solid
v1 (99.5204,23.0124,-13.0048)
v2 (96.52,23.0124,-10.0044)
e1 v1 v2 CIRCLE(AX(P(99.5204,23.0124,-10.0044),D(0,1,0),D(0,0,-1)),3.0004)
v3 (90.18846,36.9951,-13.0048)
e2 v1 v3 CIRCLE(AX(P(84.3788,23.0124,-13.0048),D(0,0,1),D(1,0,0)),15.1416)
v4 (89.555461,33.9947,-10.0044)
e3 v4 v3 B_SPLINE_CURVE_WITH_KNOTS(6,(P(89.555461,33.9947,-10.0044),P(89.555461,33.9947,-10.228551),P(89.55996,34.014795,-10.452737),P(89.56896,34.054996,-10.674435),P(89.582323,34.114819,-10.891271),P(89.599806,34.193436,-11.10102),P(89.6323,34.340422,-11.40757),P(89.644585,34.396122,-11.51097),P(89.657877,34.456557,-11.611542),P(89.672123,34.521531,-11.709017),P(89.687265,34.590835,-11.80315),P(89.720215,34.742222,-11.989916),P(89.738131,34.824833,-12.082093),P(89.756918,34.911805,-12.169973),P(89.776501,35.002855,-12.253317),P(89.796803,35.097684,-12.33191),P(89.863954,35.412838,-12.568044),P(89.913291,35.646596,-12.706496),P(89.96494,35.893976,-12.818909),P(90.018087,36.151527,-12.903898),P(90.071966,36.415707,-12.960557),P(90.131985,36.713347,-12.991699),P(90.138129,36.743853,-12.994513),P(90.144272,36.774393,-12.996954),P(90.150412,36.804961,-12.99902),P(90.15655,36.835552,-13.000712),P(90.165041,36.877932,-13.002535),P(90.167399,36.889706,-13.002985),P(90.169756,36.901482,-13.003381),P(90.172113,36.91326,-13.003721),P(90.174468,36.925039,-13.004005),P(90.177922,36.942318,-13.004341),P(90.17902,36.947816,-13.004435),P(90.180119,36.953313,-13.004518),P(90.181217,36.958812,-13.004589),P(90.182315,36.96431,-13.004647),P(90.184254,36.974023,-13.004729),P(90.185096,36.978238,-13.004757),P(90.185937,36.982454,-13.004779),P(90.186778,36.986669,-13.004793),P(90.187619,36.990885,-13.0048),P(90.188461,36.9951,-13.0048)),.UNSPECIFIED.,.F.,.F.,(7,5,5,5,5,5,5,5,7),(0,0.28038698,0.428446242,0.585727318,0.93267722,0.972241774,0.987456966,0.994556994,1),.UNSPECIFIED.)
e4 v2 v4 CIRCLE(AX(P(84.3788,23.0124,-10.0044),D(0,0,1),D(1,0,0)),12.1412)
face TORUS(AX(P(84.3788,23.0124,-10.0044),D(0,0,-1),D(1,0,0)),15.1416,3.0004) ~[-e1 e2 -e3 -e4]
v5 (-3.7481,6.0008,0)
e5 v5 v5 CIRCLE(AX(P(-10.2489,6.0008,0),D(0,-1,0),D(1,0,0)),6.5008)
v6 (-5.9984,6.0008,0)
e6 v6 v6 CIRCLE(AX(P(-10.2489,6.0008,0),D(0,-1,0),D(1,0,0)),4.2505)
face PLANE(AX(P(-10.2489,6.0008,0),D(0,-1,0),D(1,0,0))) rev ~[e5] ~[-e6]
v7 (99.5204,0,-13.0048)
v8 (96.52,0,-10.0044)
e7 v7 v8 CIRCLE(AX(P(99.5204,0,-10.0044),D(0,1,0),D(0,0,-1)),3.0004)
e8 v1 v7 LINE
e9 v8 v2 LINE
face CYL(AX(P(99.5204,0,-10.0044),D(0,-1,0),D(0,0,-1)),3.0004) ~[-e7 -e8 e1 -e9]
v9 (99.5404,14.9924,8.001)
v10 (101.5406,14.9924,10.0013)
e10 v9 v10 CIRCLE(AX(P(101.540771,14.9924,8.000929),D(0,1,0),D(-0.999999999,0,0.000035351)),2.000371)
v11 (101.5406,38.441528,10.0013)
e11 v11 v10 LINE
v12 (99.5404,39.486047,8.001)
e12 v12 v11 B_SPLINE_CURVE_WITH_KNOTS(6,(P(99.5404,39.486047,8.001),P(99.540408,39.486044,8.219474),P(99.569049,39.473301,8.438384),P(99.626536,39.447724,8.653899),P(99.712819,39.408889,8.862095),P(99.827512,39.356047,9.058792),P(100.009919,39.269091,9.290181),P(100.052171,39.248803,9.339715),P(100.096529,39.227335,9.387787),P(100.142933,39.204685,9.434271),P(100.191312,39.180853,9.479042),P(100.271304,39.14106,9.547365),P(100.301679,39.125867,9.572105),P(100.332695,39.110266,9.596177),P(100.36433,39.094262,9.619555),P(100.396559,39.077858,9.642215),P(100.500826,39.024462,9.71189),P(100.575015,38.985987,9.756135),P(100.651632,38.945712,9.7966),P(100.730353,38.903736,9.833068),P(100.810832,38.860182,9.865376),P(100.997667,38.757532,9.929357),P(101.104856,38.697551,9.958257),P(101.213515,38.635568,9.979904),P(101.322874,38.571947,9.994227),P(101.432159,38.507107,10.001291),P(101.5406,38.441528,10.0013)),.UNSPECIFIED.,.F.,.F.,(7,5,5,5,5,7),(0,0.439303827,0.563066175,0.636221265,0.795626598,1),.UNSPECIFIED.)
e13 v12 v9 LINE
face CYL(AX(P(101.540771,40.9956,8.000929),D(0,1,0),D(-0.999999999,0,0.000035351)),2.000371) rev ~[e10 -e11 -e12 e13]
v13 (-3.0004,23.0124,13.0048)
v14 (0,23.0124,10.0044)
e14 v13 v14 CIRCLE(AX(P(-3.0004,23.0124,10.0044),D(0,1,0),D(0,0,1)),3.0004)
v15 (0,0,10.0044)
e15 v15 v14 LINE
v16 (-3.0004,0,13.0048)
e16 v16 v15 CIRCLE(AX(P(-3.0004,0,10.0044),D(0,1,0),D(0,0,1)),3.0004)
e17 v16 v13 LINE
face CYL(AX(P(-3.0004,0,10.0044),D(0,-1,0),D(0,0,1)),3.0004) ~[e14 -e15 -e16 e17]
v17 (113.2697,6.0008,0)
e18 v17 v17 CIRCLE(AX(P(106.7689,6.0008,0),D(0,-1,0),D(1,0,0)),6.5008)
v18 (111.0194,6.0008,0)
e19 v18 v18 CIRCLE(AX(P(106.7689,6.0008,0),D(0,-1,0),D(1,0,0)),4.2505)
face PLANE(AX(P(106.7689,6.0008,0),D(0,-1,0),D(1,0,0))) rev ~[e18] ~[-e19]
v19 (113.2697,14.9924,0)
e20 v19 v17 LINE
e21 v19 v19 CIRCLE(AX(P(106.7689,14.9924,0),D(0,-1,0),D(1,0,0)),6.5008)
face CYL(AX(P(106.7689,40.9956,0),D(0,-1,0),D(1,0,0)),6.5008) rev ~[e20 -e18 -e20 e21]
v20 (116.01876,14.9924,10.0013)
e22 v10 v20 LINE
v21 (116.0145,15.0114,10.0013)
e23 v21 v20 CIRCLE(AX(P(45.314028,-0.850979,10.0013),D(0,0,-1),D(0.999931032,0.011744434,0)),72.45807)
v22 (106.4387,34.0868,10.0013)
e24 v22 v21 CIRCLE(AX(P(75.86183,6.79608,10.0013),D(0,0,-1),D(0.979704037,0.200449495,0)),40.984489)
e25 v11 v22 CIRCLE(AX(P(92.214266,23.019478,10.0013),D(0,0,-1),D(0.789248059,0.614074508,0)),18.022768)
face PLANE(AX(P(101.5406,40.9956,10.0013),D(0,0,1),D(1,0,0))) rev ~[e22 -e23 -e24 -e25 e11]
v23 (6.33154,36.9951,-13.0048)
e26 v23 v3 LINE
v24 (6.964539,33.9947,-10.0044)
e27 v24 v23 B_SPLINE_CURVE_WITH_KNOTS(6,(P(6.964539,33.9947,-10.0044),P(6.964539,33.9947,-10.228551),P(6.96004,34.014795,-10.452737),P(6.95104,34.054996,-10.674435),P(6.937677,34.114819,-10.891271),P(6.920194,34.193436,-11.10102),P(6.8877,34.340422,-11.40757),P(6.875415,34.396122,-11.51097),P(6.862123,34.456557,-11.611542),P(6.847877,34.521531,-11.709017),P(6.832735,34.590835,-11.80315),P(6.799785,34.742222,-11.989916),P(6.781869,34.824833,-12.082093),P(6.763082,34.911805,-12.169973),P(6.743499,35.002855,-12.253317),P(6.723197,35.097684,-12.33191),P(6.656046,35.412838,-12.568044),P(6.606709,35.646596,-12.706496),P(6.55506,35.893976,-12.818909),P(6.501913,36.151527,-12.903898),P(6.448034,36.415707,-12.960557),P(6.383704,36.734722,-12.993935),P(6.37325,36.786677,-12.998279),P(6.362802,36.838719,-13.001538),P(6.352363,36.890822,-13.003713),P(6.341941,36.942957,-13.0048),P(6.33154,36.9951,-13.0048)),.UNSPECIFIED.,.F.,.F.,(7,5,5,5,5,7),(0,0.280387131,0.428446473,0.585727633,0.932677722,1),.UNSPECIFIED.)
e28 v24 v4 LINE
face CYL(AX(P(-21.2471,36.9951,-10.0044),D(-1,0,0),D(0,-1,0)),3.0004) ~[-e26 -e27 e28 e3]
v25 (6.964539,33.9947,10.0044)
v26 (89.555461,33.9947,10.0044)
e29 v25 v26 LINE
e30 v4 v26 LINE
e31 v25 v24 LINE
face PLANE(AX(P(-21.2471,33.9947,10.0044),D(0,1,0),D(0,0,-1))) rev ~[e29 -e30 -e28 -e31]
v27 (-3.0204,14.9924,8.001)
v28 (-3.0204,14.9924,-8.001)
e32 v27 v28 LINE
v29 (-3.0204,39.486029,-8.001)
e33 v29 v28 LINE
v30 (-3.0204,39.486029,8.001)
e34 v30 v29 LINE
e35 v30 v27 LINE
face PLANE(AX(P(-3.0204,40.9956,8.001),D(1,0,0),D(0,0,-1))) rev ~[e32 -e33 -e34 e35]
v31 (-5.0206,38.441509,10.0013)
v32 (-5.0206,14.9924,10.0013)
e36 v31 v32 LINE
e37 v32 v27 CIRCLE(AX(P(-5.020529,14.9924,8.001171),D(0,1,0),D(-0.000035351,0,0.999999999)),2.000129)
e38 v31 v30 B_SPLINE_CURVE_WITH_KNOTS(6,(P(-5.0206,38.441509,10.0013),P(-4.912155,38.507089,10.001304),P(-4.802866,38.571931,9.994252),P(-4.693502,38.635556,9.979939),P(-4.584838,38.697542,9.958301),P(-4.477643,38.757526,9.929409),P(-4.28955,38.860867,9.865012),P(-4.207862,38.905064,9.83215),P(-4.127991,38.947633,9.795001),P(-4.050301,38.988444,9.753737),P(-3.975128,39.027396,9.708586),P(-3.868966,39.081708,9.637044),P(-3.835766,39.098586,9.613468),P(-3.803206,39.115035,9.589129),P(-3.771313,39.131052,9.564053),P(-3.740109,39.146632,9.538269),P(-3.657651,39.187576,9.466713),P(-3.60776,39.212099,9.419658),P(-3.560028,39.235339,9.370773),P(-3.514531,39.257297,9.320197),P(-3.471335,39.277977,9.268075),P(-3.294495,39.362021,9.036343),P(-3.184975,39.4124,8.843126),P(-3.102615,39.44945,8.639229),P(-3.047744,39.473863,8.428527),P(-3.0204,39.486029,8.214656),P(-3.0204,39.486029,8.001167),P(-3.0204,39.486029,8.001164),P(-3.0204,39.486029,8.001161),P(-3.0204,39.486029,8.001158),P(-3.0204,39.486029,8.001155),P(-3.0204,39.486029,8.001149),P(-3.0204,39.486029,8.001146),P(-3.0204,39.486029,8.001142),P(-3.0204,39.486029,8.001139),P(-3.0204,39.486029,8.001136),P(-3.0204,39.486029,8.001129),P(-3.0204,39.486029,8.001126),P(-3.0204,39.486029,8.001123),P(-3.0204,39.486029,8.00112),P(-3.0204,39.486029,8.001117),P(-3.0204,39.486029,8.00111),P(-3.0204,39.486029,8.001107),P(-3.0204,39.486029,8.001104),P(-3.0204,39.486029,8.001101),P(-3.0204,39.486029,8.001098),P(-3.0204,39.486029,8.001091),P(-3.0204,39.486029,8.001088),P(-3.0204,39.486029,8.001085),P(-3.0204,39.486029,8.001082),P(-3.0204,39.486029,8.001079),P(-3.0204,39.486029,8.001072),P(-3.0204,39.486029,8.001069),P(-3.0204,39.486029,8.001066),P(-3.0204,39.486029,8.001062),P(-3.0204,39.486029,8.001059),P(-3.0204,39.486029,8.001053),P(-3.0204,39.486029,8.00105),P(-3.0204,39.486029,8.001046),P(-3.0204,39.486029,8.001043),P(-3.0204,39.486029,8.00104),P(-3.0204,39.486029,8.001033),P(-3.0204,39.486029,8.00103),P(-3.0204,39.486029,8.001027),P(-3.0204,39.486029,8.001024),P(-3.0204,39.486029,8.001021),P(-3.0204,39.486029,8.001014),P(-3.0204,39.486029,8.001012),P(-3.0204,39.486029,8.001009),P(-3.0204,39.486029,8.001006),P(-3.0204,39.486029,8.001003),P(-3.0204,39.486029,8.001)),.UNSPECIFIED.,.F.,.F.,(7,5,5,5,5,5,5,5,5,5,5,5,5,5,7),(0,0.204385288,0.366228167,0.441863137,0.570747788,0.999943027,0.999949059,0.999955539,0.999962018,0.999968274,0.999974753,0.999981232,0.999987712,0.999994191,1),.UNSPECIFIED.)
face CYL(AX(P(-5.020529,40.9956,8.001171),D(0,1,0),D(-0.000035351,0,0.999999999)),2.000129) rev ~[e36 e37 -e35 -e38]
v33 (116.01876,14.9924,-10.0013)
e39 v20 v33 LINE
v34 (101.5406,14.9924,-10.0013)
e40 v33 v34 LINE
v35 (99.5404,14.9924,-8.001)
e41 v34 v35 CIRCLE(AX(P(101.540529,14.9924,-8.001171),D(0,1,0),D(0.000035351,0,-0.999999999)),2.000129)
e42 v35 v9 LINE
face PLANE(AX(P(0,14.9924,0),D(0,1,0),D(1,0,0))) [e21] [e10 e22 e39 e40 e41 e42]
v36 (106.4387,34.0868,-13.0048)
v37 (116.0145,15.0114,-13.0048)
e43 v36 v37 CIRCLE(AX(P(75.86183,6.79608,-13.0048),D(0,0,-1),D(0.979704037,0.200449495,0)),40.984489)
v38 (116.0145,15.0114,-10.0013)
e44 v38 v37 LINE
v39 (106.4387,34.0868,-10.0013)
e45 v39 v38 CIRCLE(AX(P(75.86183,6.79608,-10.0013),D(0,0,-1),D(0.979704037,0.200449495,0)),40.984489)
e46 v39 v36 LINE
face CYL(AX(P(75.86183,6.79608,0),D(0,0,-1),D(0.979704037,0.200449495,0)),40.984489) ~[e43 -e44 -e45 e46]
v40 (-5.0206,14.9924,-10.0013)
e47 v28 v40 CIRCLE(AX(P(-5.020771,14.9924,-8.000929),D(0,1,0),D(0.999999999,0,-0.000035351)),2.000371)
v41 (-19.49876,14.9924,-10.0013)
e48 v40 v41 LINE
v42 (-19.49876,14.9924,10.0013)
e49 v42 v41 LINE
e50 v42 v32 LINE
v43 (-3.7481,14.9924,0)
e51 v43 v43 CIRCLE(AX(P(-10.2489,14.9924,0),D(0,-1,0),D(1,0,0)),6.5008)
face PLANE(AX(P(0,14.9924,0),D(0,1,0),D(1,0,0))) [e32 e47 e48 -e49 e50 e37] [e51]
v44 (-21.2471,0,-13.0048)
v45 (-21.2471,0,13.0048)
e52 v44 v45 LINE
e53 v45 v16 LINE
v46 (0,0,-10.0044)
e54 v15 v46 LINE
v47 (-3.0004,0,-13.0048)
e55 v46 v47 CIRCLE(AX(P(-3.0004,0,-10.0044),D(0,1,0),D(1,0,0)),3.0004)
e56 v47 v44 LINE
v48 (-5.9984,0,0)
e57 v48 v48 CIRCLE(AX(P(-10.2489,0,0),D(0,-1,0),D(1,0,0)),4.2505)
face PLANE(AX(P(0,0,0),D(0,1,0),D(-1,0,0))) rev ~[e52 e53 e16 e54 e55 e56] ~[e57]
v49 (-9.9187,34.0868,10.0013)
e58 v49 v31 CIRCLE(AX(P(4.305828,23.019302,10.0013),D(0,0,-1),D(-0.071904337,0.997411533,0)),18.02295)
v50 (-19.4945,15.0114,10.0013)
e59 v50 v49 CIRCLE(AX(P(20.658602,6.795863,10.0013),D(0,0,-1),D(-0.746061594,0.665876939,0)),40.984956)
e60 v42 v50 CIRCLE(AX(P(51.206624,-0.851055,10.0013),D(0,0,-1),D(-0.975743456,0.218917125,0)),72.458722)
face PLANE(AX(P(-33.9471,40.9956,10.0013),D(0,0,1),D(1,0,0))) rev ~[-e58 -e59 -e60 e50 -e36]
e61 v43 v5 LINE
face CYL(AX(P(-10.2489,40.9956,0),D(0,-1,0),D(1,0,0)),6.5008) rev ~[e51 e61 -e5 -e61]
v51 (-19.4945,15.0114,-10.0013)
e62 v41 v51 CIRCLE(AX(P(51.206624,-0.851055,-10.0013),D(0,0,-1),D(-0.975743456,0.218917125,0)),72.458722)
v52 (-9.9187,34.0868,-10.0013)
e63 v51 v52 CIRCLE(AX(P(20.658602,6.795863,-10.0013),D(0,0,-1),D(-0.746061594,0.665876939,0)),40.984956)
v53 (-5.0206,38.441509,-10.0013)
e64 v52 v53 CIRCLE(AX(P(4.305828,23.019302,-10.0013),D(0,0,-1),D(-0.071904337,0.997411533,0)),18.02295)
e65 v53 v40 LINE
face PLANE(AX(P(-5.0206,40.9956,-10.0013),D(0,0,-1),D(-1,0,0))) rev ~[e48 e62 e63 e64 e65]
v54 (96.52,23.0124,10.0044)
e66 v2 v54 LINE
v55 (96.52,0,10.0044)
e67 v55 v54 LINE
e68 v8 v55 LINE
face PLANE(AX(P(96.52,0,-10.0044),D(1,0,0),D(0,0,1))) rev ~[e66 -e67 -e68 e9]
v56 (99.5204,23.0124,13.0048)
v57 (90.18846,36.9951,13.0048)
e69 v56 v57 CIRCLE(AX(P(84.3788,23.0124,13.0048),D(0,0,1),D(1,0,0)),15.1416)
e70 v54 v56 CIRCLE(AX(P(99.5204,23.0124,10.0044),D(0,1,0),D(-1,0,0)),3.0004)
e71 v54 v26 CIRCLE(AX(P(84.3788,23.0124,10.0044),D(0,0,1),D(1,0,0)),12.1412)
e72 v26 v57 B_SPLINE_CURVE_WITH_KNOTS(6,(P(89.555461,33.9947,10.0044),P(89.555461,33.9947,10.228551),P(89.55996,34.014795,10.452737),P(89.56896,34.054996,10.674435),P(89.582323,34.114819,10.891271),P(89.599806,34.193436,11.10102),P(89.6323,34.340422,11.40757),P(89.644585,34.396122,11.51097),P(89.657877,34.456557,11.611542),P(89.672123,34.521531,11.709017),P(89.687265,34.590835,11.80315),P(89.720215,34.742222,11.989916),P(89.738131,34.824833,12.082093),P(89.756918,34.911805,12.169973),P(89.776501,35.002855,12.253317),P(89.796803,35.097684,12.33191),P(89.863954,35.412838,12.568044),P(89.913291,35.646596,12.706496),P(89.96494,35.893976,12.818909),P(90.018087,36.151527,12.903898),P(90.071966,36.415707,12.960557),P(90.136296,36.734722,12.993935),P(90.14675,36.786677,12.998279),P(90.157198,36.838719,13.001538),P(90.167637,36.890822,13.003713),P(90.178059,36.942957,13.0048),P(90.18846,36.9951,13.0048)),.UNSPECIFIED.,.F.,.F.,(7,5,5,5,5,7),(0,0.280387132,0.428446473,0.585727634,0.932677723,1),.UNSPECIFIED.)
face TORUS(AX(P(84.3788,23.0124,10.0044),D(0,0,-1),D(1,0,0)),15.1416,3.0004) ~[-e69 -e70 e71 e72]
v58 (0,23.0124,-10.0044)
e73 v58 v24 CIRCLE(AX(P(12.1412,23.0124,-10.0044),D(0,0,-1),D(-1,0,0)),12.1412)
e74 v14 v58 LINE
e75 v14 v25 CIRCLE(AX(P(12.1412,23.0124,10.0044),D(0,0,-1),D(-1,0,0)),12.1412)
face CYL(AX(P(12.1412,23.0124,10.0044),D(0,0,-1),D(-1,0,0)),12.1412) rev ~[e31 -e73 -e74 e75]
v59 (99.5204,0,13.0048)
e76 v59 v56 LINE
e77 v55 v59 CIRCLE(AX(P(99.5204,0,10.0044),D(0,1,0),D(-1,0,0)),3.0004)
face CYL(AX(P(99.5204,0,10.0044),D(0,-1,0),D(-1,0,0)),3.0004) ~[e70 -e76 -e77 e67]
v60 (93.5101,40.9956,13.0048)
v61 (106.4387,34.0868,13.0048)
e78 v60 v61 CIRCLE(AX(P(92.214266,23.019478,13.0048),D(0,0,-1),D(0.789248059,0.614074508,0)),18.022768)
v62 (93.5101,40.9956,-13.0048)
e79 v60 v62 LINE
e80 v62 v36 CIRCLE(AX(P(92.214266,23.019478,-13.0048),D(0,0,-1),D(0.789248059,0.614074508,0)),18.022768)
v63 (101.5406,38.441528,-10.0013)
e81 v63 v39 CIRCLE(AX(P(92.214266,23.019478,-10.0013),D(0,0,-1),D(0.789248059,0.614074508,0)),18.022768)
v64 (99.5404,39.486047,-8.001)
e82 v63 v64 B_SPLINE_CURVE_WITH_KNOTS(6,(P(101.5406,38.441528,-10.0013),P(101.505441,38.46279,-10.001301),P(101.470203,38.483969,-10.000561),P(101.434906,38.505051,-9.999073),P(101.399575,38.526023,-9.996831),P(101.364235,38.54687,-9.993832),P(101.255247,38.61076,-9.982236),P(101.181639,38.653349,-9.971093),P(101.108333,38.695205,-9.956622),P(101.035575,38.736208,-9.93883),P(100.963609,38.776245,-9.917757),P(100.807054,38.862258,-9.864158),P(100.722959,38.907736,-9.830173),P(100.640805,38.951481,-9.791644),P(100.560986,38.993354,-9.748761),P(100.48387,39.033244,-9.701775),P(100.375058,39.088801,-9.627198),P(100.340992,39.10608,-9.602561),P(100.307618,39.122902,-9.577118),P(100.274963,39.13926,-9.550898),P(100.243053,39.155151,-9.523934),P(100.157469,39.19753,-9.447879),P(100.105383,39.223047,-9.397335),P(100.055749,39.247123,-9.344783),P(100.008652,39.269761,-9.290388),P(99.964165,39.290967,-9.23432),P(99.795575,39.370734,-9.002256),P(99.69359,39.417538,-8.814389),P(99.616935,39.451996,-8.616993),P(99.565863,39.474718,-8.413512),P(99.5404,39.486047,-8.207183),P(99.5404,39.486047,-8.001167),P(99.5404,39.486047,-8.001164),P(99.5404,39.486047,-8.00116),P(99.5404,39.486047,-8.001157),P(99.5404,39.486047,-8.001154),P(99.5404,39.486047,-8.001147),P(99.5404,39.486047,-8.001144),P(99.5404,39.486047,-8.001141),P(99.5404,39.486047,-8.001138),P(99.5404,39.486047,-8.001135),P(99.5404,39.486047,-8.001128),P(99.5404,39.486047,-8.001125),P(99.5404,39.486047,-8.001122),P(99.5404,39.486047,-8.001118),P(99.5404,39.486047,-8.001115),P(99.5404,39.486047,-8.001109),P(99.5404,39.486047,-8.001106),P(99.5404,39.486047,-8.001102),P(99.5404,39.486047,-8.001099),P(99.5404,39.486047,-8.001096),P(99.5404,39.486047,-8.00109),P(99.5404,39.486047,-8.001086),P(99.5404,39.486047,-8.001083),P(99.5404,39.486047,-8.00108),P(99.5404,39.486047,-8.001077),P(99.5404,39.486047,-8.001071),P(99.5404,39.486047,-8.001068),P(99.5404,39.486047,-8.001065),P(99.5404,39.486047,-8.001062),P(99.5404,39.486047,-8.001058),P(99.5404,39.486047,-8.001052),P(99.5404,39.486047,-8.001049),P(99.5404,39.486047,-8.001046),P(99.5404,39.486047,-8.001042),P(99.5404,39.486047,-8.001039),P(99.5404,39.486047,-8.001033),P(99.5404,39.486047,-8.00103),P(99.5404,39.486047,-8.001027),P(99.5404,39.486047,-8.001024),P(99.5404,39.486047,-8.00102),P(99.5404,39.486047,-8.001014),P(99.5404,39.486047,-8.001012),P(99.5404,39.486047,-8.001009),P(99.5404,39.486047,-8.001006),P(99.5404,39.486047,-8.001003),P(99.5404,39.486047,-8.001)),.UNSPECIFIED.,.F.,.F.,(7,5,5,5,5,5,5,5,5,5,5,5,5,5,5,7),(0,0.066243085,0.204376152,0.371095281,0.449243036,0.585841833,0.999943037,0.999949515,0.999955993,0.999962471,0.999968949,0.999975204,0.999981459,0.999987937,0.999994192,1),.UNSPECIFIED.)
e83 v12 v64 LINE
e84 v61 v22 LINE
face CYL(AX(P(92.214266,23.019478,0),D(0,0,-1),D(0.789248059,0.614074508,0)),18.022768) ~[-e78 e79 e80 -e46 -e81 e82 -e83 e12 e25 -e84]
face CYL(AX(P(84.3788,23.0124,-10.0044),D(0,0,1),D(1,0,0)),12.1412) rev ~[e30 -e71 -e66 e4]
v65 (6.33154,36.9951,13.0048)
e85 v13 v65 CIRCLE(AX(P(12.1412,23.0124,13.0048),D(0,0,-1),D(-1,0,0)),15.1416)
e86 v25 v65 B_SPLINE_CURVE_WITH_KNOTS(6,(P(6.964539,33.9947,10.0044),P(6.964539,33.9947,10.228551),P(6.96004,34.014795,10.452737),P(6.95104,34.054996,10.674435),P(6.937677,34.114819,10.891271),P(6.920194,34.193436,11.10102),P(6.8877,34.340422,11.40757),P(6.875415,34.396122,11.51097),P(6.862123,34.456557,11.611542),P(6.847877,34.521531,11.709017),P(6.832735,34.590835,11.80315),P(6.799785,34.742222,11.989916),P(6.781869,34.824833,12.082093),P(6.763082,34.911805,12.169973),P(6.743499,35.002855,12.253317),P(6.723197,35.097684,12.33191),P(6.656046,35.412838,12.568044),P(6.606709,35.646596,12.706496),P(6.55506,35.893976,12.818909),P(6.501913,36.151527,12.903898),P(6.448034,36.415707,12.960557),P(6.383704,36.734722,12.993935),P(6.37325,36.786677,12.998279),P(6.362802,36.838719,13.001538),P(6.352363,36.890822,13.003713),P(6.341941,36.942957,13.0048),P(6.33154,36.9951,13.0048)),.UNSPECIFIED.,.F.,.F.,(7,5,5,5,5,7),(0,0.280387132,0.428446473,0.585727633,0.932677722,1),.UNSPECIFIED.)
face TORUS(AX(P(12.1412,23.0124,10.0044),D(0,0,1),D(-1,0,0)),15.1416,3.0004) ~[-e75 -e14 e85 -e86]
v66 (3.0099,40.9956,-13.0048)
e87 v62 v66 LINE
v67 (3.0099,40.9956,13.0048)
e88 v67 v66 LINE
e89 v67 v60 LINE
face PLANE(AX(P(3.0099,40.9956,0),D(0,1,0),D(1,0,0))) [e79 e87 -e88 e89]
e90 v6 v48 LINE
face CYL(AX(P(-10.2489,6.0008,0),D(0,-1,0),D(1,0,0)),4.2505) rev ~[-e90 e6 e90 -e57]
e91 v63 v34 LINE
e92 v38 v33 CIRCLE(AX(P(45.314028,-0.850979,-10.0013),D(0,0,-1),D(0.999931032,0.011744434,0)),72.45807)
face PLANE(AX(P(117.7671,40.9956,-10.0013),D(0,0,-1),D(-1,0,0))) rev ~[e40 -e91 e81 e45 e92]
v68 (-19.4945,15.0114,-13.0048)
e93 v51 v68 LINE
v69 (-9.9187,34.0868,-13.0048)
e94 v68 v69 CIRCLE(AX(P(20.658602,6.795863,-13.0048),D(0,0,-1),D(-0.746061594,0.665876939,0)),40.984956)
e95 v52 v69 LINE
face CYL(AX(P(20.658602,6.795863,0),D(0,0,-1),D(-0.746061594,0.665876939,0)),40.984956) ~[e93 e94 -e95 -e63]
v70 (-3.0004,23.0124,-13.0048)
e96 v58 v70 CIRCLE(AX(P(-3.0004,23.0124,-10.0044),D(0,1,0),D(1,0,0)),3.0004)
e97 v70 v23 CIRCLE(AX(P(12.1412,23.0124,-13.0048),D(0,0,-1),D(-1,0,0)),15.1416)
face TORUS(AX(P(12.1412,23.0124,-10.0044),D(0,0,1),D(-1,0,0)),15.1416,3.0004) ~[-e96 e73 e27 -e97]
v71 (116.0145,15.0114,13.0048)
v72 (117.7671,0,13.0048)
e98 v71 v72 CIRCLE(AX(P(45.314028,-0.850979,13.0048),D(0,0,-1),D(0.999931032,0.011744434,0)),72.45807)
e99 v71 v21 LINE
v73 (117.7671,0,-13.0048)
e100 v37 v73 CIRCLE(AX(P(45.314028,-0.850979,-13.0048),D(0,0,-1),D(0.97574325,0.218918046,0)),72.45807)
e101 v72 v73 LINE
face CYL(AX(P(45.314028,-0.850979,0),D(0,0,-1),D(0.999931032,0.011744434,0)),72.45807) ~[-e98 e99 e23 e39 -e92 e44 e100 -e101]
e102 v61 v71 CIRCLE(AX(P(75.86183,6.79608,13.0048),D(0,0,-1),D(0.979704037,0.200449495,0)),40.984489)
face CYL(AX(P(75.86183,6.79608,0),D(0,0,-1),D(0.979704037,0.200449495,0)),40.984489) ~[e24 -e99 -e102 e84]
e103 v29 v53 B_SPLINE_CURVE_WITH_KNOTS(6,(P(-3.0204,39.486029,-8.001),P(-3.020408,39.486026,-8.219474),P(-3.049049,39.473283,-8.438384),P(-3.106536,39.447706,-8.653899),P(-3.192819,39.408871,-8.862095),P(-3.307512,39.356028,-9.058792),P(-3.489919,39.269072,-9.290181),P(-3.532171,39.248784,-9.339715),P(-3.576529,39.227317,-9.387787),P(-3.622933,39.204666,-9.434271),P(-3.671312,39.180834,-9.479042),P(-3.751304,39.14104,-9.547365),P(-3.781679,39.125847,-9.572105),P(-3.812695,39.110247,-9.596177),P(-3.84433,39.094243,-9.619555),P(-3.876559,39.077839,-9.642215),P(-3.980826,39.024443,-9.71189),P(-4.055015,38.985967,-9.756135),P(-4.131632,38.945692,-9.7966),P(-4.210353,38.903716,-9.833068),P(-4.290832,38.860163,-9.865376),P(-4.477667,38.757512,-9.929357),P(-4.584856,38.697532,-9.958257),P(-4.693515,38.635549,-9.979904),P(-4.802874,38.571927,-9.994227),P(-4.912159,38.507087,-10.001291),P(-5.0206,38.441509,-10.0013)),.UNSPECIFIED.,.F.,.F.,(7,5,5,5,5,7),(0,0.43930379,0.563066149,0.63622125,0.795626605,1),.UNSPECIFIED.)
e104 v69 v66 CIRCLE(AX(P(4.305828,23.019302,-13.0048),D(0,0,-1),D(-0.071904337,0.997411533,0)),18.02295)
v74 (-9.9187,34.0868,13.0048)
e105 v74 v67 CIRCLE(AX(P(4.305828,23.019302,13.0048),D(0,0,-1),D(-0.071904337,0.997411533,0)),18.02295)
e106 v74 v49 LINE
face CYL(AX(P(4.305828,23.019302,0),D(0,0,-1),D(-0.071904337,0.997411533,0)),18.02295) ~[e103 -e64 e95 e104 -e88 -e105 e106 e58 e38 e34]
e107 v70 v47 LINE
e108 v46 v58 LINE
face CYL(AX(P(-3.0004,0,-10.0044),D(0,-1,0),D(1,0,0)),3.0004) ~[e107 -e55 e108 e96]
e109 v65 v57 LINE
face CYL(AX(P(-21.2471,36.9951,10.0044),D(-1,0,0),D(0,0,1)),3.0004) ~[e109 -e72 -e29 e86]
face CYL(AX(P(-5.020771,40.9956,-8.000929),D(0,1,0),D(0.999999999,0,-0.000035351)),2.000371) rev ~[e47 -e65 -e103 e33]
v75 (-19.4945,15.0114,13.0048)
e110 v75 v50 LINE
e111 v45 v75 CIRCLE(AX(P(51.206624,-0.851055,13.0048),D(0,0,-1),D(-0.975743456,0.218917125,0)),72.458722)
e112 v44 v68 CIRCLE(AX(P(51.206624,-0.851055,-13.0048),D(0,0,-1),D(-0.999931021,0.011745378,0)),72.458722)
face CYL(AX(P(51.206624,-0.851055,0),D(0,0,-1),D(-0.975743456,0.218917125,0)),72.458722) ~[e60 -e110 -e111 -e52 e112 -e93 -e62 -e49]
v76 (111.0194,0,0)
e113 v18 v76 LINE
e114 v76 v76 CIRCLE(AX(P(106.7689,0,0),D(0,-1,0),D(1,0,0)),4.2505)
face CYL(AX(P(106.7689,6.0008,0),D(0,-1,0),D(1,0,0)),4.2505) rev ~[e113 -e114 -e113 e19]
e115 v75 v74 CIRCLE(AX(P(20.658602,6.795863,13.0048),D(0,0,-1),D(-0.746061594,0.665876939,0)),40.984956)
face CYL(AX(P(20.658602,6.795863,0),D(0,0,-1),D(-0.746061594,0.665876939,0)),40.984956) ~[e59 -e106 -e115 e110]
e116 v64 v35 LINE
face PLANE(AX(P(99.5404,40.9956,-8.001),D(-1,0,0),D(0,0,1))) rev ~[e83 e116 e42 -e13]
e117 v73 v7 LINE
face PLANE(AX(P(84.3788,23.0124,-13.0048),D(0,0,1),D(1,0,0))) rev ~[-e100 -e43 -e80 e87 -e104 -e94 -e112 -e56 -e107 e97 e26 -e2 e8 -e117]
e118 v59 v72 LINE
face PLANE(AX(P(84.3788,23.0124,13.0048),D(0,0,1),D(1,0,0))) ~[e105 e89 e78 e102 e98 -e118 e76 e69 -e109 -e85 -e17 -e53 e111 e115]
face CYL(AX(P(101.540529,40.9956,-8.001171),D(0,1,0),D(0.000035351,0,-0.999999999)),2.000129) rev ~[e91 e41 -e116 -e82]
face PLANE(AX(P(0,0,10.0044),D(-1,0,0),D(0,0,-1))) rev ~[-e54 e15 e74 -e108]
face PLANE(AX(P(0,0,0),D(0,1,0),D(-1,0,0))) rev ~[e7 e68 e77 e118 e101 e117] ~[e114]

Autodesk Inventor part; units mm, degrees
ref_plane "YZ Plane" through (0, 0, 0) normal (1, 0, 0) x (0, 1, 0)
ref_plane "XZ Plane" through (0, 0, 0) normal (0, 1, 0) x (-1, 0, 0)
ref_plane "XY Plane" through (0, 0, 0) normal (0, 0, 1) x (1, 0, 0)
sketch "Sketch_10" plane through (0, 0, 0) normal (0, 1, 0) x (-1, 0, 0)
  line L0 (21.2471, -13.0048) -> (21.2471, 13.0048)
  line L1 (21.2471, 13.0048) -> (3.0004, 13.0048)
  arc A0 (3.0004, 13.0048) -> (0, 10.0044) centre (3.0004, 10.0044) ccw
  line L2 (0, 10.0044) -> (0, -10.0044)
  arc A1 (0, -10.0044) -> (3.0004, -13.0048) centre (3.0004, -10.0044) ccw
  line L3 (3.0004, -13.0048) -> (21.2471, -13.0048)
extrude "Extrusion1" add sketch "Sketch_10" along normal blind 40.9956
sketch "Sketch_11" plane through (-21.2471, 0, 0) normal (1, 0, 0) x (0, 0, -1)
  arc A0 (-13.0048, 36.9951) -> (-10.0044, 33.9947) centre (-10.0044, 36.9951) ccw
  line L0 (-10.0044, 33.9947) -> (10.0044, 33.9947)
  arc A1 (10.0044, 33.9947) -> (13.0048, 36.9951) centre (10.0044, 36.9951) ccw
  line L1 (13.0048, 36.9951) -> (13.0048, 55.2418)
  line L2 (13.0048, 55.2418) -> (-13.0048, 55.2418)
  line L3 (-13.0048, 55.2418) -> (-13.0048, 36.9951)
extrude "Extrusion2" add sketch "Sketch_11" along normal blind 139.0142
sketch "Sketch_12" plane through (0, 0, 0) normal (0, 1, 0) x (-1, 0, 0)
  arc A0 (-96.52, 10.0044) -> (-99.5204, 13.0048) centre (-99.5204, 10.0044) ccw
  line L0 (-99.5204, 13.0048) -> (-117.7671, 13.0048)
  line L1 (-117.7671, 13.0048) -> (-117.7671, -13.0048)
  line L2 (-117.7671, -13.0048) -> (-99.5204, -13.0048)
  arc A1 (-99.5204, -13.0048) -> (-96.52, -10.0044) centre (-99.5204, -10.0044) ccw
  line L3 (-96.52, -10.0044) -> (-96.52, 10.0044)
extrude "Extrusion3" add sketch "Sketch_12" along normal blind 40.9956
sketch "Sketch_13" plane through (0, 23.0124, 0) normal (0, 1, 0) x (1, 0, 0)
  line L0 (12.1412, 10.0044) -> (12.1412, -10.0044)
  line L1 (-21.2471, 13.0048) -> (-21.2471, -13.0048)
  line L2 (-21.2471, -13.0048) -> (-3.0004, -13.0048)
  arc A0 (-3.0004, -13.0048) -> (0, -10.0044) centre (-3.0004, -10.0044) ccw
  line L3 (0, -10.0044) -> (0, 10.0044)
  arc A1 (0, 10.0044) -> (-3.0004, 13.0048) centre (-3.0004, 10.0044) ccw
  line L4 (-3.0004, 13.0048) -> (-21.2471, 13.0048)
revolve "Revolution1" add sketch "Sketch_13" angle 90 about axis through (12.1412, 23.0124, -10.0044) along (0, 0, -1)
sketch "Sketch_14" plane through (0, 23.0124, 0) normal (0, 1, 0) x (1, 0, 0)
  line L0 (84.3788, -10.0044) -> (84.3788, 10.0044)
  arc A0 (96.52, -10.0044) -> (99.5204, -13.0048) centre (99.5204, -10.0044) ccw
  line L1 (99.5204, -13.0048) -> (117.7671, -13.0048)
  line L2 (117.7671, -13.0048) -> (117.7671, 13.0048)
  line L3 (117.7671, 13.0048) -> (99.5204, 13.0048)
  arc A1 (99.5204, 13.0048) -> (96.52, 10.0044) centre (99.5204, 10.0044) ccw
  line L4 (96.52, 10.0044) -> (96.52, -10.0044)
revolve "Revolution2" add sketch "Sketch_14" angle 90 about axis through (84.3788, 23.0124, 10.0044) along (0, 0, 1)
sketch "Sketch_15" plane through (0, 0, 0) normal (0, 0, 1) x (1, 0, 0)
  line L0 (-33.9471, 81.9912) -> (-33.9471, 0)
  line L1 (-33.9471, 0) -> (-21.2471, 0)
  arc A0 (-19.4945, 15.0114) -> (-21.2471, 0) centre (51.2063, -0.851) ccw
  arc A1 (-9.9187, 34.0868) -> (-19.4945, 15.0114) centre (20.6584, 6.796) ccw
  arc A2 (3.0099, 40.9956) -> (-9.9187, 34.0868) centre (4.3058, 23.0194) ccw
  line L2 (3.0099, 40.9956) -> (93.5101, 40.9956)
  arc A3 (106.4387, 34.0868) -> (93.5101, 40.9956) centre (92.2142, 23.0194) ccw
  arc A4 (116.0145, 15.0114) -> (106.4387, 34.0868) centre (75.8616, 6.796) ccw
  arc A5 (117.7671, 0) -> (116.0145, 15.0114) centre (45.3137, -0.851) ccw
  line L3 (117.7671, 0) -> (130.4671, 0)
  line L4 (130.4671, 0) -> (130.4671, 81.9912)
  line L5 (130.4671, 81.9912) -> (-33.9471, 81.9912)
extrude "Extrusion4" cut sketch "Sketch_15" along normal mid plane 52.0192
sketch "Sketch_16" plane through (0, 0, 0) normal (0, 0, 1) x (1, 0, 0)
  line L0 (106.7689, 0) -> (106.7689, 40.9956)
  line L1 (106.7689, 40.9956) -> (113.2697, 40.9956)
  line L2 (113.2697, 40.9956) -> (113.2697, 6.0008)
  line L3 (113.2697, 6.0008) -> (111.0194, 6.0008)
  line L4 (111.0194, 6.0008) -> (111.0194, 0)
  line L5 (111.0194, 0) -> (106.7689, 0)
  line L6 (106.7689, 0) -> (106.7689, 40.9956)
revolve "Revolution3" cut sketch "Sketch_16" angle 360 about axis through (106.7689, 0, 0) along (0, -1, 0)
sketch "Sketch_17" plane through (0, 0, 0) normal (0, 0, 1) x (1, 0, 0)
  line L0 (-10.2489, 0) -> (-10.2489, 40.9956)
  line L1 (-10.2489, 40.9956) -> (-3.7481, 40.9956)
  line L2 (-3.7481, 40.9956) -> (-3.7481, 6.0008)
  line L3 (-3.7481, 6.0008) -> (-5.9984, 6.0008)
  line L4 (-5.9984, 6.0008) -> (-5.9984, 0)
  line L5 (-5.9984, 0) -> (-10.2489, 0)
  line L6 (-10.2489, 0) -> (-10.2489, 40.9956)
revolve "Revolution4" cut sketch "Sketch_17" angle 360 about axis through (-10.2489, 0, 0) along (0, -1, 0)
sketch "Sketch_18" plane through (0, 40.9956, 0) normal (0, 1, 0) x (1, 0, 0)
  line L0 (-33.9471, 25.7048) -> (-33.9471, -10.0013)
  line L1 (-33.9471, -10.0013) -> (-5.0206, -10.0013)
  arc A0 (-5.0206, -10.0013) -> (-3.0204, -8.001) centre (-5.0206, -8.001) ccw
  line L2 (-3.0204, -8.001) -> (-3.0204, 8.001)
  arc A1 (-3.0204, 8.001) -> (-5.0206, 10.0013) centre (-5.0206, 8.001) ccw
  line L3 (-5.0206, 10.0013) -> (-21.2471, 10.0013)
  line L4 (-21.2471, 10.0013) -> (-21.2471, 13.0048)
  line L5 (-21.2471, 13.0048) -> (117.7671, 13.0048)
  line L6 (117.7671, 13.0048) -> (117.7671, 10.0013)
  line L7 (117.7671, 10.0013) -> (101.5406, 10.0013)
  arc A2 (101.5406, 10.0013) -> (99.5404, 8.001) centre (101.5406, 8.001) ccw
  line L8 (99.5404, 8.001) -> (99.5404, -8.001)
  arc A3 (99.5404, -8.001) -> (101.5406, -10.0013) centre (101.5406, -8.001) ccw
  line L9 (101.5406, -10.0013) -> (130.4671, -10.0013)
  line L10 (130.4671, -10.0013) -> (130.4671, 25.7048)
  line L11 (130.4671, 25.7048) -> (-33.9471, 25.7048)
extrude "Extrusion5" cut sketch "Sketch_18" against normal blind 26.0032
properties part number "2061"
